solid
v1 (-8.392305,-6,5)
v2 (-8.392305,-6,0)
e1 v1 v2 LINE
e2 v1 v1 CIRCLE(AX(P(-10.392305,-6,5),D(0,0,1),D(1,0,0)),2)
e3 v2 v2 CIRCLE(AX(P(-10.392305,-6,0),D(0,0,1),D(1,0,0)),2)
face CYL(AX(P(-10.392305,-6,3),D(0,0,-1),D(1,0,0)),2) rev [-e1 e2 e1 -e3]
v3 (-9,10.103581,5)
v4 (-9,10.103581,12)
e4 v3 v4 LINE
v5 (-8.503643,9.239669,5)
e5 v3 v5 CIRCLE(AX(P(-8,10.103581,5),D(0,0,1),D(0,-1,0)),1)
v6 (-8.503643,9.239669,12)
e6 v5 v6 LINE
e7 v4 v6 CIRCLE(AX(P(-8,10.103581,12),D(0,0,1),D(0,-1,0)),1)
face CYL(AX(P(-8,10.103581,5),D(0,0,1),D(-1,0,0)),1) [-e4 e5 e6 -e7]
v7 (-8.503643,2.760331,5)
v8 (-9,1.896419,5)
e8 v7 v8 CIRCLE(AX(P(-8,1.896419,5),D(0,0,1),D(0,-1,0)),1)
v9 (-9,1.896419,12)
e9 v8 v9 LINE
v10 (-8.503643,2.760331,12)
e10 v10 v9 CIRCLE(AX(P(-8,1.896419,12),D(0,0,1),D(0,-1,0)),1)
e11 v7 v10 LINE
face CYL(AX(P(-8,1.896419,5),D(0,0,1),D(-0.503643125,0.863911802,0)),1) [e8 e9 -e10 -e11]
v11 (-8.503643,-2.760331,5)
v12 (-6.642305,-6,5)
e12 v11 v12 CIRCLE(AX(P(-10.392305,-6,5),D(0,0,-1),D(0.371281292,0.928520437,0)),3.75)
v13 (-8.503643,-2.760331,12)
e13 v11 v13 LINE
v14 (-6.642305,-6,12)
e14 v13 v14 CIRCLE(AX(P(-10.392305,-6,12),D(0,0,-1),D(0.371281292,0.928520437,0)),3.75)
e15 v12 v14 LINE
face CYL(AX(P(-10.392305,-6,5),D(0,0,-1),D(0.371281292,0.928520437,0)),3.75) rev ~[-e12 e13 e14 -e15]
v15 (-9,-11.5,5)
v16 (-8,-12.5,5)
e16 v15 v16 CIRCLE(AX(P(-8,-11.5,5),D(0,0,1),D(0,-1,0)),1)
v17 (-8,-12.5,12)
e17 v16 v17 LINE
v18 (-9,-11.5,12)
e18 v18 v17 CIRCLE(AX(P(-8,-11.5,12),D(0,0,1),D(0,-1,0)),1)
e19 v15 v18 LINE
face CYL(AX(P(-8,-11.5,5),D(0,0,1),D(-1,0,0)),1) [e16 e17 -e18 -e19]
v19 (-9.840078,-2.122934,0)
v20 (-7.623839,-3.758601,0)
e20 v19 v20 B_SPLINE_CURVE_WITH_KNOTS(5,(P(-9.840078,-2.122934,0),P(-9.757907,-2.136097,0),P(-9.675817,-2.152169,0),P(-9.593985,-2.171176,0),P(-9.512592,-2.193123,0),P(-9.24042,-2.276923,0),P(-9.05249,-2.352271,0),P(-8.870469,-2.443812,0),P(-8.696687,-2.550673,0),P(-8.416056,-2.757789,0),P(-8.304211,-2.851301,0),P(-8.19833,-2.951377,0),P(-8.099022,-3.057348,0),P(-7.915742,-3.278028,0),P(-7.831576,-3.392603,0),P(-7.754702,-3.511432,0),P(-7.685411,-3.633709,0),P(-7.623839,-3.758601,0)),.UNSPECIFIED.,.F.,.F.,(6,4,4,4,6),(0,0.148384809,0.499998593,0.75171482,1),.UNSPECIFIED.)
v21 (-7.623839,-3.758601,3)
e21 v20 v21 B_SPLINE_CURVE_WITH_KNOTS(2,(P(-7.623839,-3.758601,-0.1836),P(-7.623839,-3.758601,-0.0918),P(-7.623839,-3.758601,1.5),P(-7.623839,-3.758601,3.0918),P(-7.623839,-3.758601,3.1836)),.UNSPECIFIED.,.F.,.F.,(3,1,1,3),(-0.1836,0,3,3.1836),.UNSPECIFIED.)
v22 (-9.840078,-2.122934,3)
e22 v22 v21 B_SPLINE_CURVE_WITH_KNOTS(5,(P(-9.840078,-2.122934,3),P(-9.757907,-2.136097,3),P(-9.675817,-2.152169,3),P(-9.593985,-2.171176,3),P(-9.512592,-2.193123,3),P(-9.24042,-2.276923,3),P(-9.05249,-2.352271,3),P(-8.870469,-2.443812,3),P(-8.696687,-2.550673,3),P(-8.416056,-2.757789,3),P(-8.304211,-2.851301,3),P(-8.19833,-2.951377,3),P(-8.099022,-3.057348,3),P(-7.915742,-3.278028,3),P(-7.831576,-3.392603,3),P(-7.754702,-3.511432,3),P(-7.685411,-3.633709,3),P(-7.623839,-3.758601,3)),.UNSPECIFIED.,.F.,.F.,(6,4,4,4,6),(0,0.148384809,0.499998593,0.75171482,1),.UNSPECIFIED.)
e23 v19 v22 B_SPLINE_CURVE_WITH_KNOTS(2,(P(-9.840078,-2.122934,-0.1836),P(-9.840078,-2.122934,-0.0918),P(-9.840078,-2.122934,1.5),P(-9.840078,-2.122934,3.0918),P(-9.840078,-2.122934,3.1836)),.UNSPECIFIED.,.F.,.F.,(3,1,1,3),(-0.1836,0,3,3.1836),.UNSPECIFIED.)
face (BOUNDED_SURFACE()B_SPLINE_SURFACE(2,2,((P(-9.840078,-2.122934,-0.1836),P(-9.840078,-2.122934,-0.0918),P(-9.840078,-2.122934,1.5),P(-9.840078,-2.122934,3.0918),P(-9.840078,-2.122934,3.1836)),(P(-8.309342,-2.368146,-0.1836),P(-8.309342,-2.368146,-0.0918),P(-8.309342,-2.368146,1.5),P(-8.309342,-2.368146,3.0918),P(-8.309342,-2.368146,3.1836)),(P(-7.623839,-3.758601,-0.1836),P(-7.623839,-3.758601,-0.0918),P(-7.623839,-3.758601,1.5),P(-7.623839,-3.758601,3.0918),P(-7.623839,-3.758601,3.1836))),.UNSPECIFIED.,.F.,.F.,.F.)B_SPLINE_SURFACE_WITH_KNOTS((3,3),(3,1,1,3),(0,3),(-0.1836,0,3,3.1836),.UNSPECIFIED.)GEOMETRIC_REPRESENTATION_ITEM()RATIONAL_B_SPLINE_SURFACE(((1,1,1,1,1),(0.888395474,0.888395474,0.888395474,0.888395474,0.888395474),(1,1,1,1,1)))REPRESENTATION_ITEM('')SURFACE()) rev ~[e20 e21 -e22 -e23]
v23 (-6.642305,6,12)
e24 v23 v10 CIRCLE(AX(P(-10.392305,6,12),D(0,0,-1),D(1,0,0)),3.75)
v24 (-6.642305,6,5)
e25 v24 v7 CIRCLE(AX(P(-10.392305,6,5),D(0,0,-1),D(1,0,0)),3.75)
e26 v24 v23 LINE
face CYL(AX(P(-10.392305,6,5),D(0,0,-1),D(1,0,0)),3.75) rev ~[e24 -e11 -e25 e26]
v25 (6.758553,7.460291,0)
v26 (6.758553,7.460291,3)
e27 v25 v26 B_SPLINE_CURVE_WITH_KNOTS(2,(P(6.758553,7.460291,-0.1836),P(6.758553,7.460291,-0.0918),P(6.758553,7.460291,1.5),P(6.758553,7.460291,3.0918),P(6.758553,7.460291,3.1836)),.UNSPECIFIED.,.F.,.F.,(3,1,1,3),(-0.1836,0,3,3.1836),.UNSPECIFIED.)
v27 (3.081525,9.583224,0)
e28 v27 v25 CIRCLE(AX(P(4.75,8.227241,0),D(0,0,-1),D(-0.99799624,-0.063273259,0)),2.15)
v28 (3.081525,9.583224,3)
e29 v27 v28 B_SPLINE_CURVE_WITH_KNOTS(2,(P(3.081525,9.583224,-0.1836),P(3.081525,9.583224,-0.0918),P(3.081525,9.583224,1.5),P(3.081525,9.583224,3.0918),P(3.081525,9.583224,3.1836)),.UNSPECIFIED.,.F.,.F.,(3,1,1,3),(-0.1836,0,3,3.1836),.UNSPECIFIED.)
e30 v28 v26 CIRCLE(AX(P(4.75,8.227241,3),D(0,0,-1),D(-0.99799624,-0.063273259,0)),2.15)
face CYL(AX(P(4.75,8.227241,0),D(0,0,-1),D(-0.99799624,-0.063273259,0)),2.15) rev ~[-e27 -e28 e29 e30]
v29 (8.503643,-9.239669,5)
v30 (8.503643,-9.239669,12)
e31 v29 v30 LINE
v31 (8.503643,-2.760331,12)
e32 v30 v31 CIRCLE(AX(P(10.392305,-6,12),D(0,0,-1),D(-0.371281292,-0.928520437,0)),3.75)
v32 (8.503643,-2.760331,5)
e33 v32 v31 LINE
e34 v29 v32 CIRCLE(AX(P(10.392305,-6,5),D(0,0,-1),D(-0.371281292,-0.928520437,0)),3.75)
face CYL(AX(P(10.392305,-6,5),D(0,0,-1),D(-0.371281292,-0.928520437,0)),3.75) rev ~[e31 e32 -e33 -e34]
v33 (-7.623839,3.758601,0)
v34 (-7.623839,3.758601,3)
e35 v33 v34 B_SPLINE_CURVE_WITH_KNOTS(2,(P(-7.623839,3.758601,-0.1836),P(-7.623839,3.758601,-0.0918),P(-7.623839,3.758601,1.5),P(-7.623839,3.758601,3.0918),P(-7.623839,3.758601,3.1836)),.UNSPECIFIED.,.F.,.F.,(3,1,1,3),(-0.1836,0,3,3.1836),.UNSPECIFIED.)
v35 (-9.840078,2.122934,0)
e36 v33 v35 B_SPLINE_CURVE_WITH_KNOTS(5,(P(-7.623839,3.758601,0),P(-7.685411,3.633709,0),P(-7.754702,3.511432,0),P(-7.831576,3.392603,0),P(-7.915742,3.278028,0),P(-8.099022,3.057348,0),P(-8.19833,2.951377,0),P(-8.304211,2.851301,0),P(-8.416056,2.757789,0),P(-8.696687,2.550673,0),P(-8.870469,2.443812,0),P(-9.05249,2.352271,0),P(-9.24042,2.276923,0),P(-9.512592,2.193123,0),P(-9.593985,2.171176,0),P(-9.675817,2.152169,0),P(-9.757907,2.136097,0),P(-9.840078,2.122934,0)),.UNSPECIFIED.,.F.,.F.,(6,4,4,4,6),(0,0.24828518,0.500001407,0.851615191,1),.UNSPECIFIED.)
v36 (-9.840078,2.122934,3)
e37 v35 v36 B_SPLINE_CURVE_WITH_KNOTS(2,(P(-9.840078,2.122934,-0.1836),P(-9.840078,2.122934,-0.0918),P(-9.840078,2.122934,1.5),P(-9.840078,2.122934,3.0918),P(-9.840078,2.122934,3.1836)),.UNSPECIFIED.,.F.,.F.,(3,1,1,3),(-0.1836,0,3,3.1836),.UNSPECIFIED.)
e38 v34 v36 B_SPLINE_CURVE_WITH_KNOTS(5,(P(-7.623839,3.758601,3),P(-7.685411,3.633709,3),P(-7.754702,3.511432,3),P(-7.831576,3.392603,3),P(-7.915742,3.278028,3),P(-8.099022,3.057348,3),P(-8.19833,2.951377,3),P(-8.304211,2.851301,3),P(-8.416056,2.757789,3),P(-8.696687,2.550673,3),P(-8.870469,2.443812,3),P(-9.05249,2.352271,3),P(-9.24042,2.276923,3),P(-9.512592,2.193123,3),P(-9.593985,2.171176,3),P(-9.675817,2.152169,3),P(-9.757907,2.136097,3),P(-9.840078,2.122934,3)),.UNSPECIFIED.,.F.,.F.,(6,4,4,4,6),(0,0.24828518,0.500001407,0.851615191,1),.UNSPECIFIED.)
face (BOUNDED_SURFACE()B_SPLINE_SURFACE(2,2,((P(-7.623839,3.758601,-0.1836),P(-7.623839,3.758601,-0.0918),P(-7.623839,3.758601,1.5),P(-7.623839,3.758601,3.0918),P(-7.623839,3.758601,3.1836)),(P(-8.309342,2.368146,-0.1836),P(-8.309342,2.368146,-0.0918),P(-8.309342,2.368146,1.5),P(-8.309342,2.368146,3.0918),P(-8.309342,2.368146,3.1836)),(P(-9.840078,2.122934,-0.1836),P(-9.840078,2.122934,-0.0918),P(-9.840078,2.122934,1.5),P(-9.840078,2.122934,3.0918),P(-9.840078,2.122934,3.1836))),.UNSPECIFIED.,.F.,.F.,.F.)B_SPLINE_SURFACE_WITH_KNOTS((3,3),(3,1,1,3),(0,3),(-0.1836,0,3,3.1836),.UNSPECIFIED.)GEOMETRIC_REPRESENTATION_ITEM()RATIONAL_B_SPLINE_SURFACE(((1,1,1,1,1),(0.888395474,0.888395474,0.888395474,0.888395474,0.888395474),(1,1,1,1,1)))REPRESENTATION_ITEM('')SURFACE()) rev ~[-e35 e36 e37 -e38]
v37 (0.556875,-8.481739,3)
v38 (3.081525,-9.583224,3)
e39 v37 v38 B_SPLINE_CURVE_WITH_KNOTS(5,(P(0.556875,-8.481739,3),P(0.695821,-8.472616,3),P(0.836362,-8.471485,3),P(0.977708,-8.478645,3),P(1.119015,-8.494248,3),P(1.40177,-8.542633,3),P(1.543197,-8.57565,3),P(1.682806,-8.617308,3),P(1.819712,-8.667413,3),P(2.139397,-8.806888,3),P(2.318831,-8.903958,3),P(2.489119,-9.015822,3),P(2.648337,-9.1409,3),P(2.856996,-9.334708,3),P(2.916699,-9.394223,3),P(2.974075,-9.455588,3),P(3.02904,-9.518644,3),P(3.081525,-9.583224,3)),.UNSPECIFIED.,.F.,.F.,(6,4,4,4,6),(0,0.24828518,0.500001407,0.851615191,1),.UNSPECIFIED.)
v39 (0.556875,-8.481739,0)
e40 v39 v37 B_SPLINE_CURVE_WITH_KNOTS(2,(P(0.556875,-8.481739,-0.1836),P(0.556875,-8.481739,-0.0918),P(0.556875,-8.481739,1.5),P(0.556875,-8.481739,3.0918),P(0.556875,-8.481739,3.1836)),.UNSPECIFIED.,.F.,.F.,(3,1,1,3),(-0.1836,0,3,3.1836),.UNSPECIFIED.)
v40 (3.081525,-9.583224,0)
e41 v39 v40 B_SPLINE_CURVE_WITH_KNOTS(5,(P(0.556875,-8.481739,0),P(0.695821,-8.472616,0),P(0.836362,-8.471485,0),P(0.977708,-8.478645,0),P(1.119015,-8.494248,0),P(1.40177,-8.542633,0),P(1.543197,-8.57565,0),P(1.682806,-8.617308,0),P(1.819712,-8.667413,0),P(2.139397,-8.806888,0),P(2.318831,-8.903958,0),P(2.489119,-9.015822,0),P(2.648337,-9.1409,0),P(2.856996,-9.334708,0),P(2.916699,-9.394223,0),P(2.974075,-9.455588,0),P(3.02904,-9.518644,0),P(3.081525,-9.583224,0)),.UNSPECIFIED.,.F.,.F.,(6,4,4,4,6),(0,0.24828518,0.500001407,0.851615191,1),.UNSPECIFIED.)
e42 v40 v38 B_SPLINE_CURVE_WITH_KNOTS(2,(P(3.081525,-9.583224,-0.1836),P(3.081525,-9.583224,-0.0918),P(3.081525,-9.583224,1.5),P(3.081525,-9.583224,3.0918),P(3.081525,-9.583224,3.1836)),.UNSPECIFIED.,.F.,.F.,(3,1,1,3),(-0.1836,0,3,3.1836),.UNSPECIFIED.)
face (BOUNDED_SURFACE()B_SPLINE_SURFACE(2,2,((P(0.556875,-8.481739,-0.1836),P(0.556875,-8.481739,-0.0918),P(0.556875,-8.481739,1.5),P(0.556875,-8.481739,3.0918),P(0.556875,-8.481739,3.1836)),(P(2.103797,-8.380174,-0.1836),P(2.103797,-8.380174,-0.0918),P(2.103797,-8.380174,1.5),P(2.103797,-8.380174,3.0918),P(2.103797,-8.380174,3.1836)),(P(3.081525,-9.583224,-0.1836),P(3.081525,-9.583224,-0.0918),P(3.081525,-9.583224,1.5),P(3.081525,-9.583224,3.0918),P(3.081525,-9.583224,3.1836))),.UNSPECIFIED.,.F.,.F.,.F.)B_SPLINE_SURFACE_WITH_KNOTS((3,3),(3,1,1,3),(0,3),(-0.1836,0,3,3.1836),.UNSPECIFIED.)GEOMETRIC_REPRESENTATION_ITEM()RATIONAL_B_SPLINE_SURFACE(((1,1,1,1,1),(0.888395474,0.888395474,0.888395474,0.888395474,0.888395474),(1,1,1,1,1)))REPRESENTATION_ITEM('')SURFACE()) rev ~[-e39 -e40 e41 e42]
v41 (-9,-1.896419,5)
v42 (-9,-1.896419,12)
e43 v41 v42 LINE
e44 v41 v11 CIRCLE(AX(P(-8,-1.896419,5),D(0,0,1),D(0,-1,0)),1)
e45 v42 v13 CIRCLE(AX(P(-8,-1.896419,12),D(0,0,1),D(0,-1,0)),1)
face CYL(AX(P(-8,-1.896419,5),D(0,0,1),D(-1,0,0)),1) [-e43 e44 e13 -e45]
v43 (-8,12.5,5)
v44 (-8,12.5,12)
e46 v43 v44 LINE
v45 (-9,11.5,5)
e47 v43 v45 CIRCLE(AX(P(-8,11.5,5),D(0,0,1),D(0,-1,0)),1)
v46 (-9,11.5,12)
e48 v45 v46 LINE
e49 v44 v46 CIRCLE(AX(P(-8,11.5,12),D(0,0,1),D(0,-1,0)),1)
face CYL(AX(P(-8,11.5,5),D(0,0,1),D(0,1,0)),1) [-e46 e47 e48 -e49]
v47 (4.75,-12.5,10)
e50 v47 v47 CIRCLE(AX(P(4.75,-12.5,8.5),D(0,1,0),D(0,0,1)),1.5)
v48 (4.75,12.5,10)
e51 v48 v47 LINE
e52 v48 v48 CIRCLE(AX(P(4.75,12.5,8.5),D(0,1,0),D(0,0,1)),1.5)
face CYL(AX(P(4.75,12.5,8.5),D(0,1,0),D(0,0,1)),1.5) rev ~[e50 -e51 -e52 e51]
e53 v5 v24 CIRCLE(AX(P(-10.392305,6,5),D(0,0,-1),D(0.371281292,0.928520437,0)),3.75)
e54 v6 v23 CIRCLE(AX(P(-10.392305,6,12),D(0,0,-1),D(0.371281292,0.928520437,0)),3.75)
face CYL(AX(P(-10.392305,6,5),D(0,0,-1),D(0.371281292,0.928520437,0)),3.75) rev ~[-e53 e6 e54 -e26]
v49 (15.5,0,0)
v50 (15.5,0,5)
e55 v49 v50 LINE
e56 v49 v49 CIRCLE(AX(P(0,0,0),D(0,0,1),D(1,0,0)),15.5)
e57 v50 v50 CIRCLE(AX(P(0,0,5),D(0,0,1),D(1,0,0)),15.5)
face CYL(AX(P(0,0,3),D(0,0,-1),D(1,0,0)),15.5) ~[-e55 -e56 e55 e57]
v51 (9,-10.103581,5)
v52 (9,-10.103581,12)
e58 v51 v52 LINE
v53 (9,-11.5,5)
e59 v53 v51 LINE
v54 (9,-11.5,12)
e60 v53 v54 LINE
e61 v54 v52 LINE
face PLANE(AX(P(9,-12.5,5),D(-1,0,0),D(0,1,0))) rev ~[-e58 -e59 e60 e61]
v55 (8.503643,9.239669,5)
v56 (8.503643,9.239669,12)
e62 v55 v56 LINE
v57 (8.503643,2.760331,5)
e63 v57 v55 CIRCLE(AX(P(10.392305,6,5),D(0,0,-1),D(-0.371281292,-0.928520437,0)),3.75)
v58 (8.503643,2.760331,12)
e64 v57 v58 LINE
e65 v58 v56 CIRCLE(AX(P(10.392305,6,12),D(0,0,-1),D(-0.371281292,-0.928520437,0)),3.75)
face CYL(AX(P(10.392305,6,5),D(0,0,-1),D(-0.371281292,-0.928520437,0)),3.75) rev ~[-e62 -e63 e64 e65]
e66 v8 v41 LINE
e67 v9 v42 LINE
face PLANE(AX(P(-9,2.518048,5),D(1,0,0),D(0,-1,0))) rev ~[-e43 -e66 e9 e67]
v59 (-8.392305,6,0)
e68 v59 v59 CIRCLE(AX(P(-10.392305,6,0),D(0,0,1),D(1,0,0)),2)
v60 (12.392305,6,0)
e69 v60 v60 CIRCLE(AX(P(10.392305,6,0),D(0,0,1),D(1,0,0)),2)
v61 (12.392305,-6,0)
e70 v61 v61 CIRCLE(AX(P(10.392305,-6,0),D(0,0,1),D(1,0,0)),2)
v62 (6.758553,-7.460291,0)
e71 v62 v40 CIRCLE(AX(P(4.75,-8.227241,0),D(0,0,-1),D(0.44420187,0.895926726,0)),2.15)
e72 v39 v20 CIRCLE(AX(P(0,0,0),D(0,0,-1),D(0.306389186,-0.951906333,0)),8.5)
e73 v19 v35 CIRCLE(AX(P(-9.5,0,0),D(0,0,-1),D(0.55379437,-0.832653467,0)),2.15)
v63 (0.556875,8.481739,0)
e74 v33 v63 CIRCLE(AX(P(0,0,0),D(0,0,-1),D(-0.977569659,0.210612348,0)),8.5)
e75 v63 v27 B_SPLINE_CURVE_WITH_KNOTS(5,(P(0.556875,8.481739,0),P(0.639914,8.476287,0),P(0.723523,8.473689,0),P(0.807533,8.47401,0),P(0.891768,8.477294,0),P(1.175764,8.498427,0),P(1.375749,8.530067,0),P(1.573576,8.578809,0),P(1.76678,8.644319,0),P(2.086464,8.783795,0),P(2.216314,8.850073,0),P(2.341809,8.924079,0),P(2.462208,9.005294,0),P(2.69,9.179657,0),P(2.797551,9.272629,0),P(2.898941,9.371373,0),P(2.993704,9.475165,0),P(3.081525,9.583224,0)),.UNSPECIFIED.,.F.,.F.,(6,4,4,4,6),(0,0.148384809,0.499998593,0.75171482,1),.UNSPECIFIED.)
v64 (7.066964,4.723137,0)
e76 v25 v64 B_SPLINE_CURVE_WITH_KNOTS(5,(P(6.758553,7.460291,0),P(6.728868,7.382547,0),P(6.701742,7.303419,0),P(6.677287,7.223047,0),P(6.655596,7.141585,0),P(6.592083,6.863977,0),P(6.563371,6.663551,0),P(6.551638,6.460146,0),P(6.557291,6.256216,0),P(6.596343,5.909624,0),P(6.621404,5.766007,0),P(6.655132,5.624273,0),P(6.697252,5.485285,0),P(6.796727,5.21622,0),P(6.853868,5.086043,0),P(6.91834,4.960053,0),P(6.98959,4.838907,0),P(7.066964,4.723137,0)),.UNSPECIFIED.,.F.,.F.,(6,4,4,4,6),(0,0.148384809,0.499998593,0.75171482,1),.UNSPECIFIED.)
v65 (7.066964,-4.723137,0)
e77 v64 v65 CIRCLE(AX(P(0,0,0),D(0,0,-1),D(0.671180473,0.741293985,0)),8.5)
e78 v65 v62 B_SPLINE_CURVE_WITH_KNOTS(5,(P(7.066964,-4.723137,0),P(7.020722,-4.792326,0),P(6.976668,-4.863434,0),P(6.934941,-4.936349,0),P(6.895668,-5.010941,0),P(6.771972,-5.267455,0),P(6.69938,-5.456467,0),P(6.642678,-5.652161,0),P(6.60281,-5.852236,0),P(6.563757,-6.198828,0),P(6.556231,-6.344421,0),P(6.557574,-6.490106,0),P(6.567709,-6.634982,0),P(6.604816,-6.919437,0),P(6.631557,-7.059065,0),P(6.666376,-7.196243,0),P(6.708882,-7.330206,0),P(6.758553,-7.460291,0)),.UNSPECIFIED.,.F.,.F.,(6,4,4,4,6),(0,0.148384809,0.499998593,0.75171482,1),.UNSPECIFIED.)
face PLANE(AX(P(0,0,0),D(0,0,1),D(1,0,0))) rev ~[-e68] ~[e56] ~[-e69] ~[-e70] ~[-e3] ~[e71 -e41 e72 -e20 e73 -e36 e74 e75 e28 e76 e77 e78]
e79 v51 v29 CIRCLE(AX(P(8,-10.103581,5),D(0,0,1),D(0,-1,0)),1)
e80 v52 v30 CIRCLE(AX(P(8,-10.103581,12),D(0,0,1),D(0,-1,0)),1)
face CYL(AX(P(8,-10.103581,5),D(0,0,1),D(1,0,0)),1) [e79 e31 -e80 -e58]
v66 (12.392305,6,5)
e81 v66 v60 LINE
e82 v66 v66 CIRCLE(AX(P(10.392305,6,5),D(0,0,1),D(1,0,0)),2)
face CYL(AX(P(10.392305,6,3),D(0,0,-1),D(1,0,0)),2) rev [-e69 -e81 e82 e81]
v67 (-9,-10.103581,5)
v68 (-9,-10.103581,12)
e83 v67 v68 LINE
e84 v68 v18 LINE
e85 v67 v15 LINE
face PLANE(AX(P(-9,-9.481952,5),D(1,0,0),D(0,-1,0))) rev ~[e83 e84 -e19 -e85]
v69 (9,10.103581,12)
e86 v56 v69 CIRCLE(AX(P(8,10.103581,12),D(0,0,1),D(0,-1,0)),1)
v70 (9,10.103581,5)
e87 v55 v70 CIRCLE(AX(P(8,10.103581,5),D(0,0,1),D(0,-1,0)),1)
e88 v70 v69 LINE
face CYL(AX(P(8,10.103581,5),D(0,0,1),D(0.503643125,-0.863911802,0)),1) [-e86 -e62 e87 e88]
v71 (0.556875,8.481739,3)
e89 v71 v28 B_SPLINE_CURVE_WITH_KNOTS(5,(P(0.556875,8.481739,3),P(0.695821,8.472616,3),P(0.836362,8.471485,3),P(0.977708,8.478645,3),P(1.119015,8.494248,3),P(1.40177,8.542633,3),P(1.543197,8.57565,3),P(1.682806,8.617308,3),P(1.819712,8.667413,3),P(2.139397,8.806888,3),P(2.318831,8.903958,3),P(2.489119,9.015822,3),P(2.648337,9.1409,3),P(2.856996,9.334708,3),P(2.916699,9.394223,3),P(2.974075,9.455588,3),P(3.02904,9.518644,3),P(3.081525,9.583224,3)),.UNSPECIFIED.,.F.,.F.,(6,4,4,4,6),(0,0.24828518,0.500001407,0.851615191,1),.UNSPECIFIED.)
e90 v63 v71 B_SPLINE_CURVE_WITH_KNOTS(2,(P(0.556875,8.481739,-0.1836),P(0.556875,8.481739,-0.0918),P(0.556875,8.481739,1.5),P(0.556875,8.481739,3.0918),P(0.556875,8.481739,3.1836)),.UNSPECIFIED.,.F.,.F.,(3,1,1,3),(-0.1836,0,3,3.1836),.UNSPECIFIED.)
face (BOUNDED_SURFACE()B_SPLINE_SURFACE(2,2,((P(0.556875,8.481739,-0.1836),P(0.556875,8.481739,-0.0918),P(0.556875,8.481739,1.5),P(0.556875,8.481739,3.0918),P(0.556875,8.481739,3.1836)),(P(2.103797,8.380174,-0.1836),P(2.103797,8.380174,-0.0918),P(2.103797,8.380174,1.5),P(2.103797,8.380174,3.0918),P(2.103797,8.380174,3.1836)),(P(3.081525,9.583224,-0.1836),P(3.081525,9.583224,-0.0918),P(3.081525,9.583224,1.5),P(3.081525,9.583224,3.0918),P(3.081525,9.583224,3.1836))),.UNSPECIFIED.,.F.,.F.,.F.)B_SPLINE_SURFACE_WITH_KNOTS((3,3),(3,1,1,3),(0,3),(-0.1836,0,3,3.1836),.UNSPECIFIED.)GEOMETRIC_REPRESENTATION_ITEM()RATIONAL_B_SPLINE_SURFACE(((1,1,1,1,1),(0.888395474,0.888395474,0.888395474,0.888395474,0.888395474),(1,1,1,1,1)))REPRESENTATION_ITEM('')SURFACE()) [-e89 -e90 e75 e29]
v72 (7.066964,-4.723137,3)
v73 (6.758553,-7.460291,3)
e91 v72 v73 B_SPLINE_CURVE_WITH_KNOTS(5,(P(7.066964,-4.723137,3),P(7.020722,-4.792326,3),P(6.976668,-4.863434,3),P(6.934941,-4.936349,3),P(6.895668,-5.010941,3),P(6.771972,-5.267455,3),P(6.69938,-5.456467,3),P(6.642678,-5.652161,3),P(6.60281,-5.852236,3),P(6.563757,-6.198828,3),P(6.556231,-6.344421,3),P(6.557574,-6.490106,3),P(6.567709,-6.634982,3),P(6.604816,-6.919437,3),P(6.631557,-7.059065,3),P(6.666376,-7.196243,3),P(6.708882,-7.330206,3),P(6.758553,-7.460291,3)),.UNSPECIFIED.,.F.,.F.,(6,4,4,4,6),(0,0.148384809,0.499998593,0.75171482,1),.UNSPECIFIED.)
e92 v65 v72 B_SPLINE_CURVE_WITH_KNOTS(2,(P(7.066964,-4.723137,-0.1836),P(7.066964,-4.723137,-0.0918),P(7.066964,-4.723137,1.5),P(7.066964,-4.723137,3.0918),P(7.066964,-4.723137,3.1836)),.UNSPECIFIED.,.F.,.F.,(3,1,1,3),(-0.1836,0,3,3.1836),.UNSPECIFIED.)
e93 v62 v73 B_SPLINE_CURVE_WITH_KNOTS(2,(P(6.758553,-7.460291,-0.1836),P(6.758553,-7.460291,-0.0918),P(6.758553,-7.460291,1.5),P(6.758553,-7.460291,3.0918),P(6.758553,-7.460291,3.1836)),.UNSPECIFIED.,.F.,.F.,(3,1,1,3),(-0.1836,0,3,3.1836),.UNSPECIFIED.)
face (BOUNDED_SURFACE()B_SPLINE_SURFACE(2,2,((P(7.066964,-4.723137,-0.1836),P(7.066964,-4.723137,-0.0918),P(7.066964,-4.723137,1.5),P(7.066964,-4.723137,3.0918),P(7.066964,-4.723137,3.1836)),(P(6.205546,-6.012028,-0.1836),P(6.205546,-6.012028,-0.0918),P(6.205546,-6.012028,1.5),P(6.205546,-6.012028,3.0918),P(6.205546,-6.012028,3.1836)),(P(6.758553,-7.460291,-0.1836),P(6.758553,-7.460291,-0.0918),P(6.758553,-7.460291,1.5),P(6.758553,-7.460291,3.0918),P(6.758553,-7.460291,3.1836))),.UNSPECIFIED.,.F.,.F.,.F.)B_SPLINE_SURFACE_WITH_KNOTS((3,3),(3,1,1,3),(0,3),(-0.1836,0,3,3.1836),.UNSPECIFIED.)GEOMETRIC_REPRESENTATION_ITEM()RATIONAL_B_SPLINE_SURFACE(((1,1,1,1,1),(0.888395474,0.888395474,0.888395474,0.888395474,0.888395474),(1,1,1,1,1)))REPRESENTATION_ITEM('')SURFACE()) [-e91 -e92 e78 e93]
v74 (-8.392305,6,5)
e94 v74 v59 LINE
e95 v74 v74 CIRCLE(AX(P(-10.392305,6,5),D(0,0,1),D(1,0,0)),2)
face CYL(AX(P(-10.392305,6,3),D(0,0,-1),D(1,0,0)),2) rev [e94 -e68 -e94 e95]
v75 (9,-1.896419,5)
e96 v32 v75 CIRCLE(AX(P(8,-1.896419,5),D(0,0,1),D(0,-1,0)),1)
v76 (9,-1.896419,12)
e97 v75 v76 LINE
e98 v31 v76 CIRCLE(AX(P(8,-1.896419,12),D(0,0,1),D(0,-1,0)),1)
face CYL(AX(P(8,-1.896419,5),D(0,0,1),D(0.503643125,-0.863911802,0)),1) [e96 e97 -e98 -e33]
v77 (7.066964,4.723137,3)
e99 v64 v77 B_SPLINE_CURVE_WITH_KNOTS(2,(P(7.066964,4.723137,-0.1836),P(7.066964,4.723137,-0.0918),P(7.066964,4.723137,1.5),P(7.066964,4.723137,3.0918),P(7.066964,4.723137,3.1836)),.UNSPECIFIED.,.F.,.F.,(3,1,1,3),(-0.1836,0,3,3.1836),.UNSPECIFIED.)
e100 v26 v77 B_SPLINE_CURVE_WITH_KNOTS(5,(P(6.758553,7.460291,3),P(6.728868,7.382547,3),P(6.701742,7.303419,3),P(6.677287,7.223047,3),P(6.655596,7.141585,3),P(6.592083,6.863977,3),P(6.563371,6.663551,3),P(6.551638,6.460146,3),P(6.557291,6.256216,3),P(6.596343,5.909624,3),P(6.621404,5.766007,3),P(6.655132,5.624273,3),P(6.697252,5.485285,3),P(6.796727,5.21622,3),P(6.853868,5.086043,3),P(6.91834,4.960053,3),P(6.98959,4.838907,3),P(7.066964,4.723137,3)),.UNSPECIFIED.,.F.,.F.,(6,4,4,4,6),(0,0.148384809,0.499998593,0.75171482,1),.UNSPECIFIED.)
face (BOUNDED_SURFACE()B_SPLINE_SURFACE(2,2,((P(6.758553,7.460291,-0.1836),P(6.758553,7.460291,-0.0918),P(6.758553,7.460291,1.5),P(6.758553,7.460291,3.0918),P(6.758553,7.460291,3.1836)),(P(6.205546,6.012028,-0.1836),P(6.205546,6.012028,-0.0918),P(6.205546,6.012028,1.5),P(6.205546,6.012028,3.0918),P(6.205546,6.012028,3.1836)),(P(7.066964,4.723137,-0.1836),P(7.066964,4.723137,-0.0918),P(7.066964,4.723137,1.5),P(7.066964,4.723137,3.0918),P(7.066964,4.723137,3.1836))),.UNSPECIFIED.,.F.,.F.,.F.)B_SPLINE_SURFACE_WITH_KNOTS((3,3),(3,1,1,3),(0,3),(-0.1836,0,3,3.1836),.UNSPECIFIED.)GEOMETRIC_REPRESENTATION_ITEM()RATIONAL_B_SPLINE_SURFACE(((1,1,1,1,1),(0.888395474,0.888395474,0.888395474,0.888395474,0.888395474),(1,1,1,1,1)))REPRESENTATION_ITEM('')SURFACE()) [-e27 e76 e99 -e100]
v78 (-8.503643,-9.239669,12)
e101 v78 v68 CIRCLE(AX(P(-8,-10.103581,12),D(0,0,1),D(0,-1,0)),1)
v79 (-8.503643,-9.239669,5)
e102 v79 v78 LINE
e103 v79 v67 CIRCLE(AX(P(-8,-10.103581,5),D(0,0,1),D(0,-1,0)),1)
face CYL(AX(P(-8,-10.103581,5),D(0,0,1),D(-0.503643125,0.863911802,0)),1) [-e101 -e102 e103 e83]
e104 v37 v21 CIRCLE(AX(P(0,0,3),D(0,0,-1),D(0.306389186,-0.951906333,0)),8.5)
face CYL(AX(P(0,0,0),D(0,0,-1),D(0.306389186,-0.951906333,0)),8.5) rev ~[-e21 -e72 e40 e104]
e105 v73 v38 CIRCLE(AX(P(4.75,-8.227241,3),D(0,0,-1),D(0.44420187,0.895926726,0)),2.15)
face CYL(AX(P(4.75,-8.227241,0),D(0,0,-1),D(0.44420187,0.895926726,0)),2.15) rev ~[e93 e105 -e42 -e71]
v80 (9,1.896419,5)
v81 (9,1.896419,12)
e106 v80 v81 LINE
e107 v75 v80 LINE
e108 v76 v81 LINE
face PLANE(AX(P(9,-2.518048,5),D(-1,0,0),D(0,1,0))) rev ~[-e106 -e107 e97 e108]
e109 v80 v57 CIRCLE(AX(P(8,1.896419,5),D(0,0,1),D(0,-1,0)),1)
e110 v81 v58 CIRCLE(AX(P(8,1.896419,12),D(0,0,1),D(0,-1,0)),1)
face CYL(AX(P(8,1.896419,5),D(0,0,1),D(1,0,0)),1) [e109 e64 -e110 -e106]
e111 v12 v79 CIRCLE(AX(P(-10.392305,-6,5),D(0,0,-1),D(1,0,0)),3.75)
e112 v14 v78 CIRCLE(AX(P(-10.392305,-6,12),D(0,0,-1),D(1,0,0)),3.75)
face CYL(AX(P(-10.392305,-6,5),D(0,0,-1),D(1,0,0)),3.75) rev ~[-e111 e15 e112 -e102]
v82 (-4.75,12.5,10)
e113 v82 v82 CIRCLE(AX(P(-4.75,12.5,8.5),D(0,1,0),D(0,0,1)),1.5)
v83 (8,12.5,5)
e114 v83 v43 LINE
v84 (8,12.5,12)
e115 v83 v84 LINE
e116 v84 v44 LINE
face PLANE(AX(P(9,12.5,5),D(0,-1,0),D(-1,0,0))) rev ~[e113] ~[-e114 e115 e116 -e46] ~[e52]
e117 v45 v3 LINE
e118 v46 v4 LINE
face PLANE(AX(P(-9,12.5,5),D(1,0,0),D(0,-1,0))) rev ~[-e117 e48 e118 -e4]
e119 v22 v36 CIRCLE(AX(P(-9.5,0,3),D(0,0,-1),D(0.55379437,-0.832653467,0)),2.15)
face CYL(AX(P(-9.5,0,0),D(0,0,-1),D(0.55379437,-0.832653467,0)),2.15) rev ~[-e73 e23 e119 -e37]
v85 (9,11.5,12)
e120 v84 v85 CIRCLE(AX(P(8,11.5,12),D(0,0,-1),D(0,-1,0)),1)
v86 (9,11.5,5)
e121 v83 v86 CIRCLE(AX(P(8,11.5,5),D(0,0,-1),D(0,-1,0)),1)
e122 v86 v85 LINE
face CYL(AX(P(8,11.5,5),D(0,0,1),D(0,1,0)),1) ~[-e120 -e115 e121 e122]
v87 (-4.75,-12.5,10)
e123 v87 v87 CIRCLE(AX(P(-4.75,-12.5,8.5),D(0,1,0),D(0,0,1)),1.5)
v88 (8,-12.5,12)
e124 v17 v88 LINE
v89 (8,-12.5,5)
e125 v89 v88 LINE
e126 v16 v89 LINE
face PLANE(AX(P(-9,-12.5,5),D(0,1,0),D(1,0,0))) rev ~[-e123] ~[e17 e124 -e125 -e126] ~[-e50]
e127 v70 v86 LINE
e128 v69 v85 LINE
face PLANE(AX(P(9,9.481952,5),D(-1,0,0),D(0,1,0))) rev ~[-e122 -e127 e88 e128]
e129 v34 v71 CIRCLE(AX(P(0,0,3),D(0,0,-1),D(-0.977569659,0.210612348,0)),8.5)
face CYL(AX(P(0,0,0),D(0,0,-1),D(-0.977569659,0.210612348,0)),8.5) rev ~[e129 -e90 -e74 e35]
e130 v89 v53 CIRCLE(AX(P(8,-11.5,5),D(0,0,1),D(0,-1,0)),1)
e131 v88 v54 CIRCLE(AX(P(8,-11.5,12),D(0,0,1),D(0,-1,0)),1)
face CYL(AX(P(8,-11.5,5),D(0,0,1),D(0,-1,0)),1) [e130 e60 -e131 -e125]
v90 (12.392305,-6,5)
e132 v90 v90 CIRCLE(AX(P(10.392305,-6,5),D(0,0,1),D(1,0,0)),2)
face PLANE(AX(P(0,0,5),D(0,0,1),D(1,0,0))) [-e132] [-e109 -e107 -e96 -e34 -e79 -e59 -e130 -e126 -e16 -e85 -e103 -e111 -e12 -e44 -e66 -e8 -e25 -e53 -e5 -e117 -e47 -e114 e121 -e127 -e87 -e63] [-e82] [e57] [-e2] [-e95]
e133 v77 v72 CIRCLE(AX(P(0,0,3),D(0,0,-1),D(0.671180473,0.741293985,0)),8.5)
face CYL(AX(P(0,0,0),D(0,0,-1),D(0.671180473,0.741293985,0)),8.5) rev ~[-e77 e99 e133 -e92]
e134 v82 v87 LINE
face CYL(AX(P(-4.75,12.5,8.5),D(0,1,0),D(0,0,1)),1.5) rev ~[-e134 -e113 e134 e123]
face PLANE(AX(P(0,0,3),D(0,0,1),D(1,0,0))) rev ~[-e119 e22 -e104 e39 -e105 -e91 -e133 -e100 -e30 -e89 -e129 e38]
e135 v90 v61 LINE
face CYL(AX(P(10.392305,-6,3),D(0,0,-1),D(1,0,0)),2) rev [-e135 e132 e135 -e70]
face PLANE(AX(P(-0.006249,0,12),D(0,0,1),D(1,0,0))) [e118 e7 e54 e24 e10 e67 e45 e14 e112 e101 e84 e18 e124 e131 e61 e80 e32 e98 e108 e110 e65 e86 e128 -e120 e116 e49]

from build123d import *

# Parameters (mm, degrees)
SKETCH_1_R          = 15.5
SKETCH_1_R_2        = 2
EXTRUDE_1_DEPTH     = 3
FILLET_1_R          = 3
SKETCH_5_R          = 15.5
SKETCH_5_R_2        = 2
EXTRUDE_3_DEPTH     = 2
EXTRUDE_5_DEPTH     = 7
FILLET_4_R          = 1
SKETCH_8_R          = 1.5
CUT_EXTRUDE_3_DEPTH = 35.179672449


with BuildPart() as part:
    # 草图1 → 凸台-拉伸1 (new body)
    with BuildSketch(Plane.XY):
        Circle(SKETCH_1_R)
        with Locations((-10.392304845, -6)):
            Circle(SKETCH_1_R_2, mode=Mode.SUBTRACT)
        with Locations((10.392304845, -6)):
            Circle(SKETCH_1_R_2, mode=Mode.SUBTRACT)
        with Locations((-10.392304845, 6)):
            Circle(SKETCH_1_R_2, mode=Mode.SUBTRACT)
        with BuildLine():
            ThreePointArc((2.604308084, 8.091203829), (5.825, 10.089195954), (5.705034021, 6.300998875))
            ThreePointArc((5.705034021, 6.300998875), (8.5, 0), (5.705034021, -6.300998875))
            ThreePointArc((5.705034021, -6.300998875), (5.825, -10.089195954), (2.604308084, -8.091203829))
            ThreePointArc((2.604308084, -8.091203829), (-4.25, -7.361215932), (-8.309342105, -1.790204954))
            ThreePointArc((-8.309342105, -1.790204954), (-11.65, 0), (-8.309342105, 1.790204954))
            ThreePointArc((-8.309342105, 1.790204954), (-4.25, 7.361215932), (2.604308084, 8.091203829))
        make_face(mode=Mode.SUBTRACT)
        with Locations((10.392304845, 6)):
            Circle(SKETCH_1_R_2, mode=Mode.SUBTRACT)
    extrude(amount=EXTRUDE_1_DEPTH)

    # 圆角1
    fillet_1_edges = [part.edges().sort_by_distance(p)[0] for p in [
        (-8.309342105, 1.790204954, 1.5),
        (-8.309342105, -1.790204954, 1.5),
        (2.604308084, -8.091203829, 1.5),
        (5.705034021, -6.300998875, 1.5),
        (5.705034021, 6.300998875, 1.5),
        (2.604308084, 8.091203829, 1.5),
    ]]
    fillet(fillet_1_edges, radius=FILLET_1_R)

    # 草图5 → 凸台-拉伸3 (add)
    with BuildSketch(Plane.XY.offset(3)):
        Circle(SKETCH_5_R)
        with Locations((-10.392304845, -6)):
            Circle(SKETCH_5_R_2, mode=Mode.SUBTRACT)
        with Locations((10.392304845, -6)):
            Circle(SKETCH_5_R_2, mode=Mode.SUBTRACT)
        with Locations((10.392304845, 6)):
            Circle(SKETCH_5_R_2, mode=Mode.SUBTRACT)
        with Locations((-10.392304845, 6)):
            Circle(SKETCH_5_R_2, mode=Mode.SUBTRACT)
    extrude(amount=EXTRUDE_3_DEPTH)

    # 草图7 → 凸台-拉伸5 (add)
    with BuildSketch(Plane.XY.offset(5)):
        with BuildLine():
            Line((9, 12.5), (-9, 12.5))
            Line((-9, 12.5), (-9, 9.481951639))
            ThreePointArc((-9, 9.481951639), (-7.287176573, 8.102540942), (-6.642304845, 6))
            ThreePointArc((-6.642304845, 6), (-7.287176573, 3.897459058), (-9, 2.518048361))
            Line((-9, 2.518048361), (-9, -2.518048361))
            ThreePointArc((-9, -2.518048361), (-7.287176573, -3.897459058), (-6.642304845, -6))
            ThreePointArc((-6.642304845, -6), (-7.287176573, -8.102540942), (-9, -9.481951639))
            Line((-9, -9.481951639), (-9, -12.5))
            Line((-9, -12.5), (9, -12.5))
            Line((9, -12.5), (9, -9.481951639))
            ThreePointArc((9, -9.481951639), (6.642304845, -6), (9, -2.518048361))
            Line((9, -2.518048361), (9, 2.518048361))
            ThreePointArc((9, 2.518048361), (6.642304845, 6), (9, 9.481951639))
            Line((9, 9.481951639), (9, 12.5))
        make_face()
    extrude(amount=EXTRUDE_5_DEPTH)

    # 圆角4
    fillet_4_edges = [part.edges().sort_by_distance(p)[0] for p in [
        (9, -9.481951639, 8.5),
        (9, -2.518048361, 8.5),
        (9, 2.518048361, 8.5),
        (9, 9.481951639, 8.5),
        (9, 12.5, 8.5),
        (-9, 12.5, 8.5),
        (-9, 9.481951639, 8.5),
        (-9, 2.518048361, 8.5),
        (-9, -2.518048361, 8.5),
        (-9, -9.481951639, 8.5),
        (-9, -12.5, 8.5),
        (9, -12.5, 8.5),
    ]]
    fillet(fillet_4_edges, radius=FILLET_4_R)

    # 草图8 → 切除-拉伸3 (cut, through all)
    with BuildSketch(Plane(origin=(0, 12.5, 0), x_dir=(1, 0, 0), z_dir=(0, 1, 0))):
        with Locations(Location((-4.75, -8.5, 0), (0, 0, 270))):
            Circle(SKETCH_8_R)
        with Locations(Location((4.75, -8.5, 0), (0, 0, 270))):
            Circle(SKETCH_8_R)
    extrude(amount=-CUT_EXTRUDE_3_DEPTH, mode=Mode.SUBTRACT)


solid = part.part
